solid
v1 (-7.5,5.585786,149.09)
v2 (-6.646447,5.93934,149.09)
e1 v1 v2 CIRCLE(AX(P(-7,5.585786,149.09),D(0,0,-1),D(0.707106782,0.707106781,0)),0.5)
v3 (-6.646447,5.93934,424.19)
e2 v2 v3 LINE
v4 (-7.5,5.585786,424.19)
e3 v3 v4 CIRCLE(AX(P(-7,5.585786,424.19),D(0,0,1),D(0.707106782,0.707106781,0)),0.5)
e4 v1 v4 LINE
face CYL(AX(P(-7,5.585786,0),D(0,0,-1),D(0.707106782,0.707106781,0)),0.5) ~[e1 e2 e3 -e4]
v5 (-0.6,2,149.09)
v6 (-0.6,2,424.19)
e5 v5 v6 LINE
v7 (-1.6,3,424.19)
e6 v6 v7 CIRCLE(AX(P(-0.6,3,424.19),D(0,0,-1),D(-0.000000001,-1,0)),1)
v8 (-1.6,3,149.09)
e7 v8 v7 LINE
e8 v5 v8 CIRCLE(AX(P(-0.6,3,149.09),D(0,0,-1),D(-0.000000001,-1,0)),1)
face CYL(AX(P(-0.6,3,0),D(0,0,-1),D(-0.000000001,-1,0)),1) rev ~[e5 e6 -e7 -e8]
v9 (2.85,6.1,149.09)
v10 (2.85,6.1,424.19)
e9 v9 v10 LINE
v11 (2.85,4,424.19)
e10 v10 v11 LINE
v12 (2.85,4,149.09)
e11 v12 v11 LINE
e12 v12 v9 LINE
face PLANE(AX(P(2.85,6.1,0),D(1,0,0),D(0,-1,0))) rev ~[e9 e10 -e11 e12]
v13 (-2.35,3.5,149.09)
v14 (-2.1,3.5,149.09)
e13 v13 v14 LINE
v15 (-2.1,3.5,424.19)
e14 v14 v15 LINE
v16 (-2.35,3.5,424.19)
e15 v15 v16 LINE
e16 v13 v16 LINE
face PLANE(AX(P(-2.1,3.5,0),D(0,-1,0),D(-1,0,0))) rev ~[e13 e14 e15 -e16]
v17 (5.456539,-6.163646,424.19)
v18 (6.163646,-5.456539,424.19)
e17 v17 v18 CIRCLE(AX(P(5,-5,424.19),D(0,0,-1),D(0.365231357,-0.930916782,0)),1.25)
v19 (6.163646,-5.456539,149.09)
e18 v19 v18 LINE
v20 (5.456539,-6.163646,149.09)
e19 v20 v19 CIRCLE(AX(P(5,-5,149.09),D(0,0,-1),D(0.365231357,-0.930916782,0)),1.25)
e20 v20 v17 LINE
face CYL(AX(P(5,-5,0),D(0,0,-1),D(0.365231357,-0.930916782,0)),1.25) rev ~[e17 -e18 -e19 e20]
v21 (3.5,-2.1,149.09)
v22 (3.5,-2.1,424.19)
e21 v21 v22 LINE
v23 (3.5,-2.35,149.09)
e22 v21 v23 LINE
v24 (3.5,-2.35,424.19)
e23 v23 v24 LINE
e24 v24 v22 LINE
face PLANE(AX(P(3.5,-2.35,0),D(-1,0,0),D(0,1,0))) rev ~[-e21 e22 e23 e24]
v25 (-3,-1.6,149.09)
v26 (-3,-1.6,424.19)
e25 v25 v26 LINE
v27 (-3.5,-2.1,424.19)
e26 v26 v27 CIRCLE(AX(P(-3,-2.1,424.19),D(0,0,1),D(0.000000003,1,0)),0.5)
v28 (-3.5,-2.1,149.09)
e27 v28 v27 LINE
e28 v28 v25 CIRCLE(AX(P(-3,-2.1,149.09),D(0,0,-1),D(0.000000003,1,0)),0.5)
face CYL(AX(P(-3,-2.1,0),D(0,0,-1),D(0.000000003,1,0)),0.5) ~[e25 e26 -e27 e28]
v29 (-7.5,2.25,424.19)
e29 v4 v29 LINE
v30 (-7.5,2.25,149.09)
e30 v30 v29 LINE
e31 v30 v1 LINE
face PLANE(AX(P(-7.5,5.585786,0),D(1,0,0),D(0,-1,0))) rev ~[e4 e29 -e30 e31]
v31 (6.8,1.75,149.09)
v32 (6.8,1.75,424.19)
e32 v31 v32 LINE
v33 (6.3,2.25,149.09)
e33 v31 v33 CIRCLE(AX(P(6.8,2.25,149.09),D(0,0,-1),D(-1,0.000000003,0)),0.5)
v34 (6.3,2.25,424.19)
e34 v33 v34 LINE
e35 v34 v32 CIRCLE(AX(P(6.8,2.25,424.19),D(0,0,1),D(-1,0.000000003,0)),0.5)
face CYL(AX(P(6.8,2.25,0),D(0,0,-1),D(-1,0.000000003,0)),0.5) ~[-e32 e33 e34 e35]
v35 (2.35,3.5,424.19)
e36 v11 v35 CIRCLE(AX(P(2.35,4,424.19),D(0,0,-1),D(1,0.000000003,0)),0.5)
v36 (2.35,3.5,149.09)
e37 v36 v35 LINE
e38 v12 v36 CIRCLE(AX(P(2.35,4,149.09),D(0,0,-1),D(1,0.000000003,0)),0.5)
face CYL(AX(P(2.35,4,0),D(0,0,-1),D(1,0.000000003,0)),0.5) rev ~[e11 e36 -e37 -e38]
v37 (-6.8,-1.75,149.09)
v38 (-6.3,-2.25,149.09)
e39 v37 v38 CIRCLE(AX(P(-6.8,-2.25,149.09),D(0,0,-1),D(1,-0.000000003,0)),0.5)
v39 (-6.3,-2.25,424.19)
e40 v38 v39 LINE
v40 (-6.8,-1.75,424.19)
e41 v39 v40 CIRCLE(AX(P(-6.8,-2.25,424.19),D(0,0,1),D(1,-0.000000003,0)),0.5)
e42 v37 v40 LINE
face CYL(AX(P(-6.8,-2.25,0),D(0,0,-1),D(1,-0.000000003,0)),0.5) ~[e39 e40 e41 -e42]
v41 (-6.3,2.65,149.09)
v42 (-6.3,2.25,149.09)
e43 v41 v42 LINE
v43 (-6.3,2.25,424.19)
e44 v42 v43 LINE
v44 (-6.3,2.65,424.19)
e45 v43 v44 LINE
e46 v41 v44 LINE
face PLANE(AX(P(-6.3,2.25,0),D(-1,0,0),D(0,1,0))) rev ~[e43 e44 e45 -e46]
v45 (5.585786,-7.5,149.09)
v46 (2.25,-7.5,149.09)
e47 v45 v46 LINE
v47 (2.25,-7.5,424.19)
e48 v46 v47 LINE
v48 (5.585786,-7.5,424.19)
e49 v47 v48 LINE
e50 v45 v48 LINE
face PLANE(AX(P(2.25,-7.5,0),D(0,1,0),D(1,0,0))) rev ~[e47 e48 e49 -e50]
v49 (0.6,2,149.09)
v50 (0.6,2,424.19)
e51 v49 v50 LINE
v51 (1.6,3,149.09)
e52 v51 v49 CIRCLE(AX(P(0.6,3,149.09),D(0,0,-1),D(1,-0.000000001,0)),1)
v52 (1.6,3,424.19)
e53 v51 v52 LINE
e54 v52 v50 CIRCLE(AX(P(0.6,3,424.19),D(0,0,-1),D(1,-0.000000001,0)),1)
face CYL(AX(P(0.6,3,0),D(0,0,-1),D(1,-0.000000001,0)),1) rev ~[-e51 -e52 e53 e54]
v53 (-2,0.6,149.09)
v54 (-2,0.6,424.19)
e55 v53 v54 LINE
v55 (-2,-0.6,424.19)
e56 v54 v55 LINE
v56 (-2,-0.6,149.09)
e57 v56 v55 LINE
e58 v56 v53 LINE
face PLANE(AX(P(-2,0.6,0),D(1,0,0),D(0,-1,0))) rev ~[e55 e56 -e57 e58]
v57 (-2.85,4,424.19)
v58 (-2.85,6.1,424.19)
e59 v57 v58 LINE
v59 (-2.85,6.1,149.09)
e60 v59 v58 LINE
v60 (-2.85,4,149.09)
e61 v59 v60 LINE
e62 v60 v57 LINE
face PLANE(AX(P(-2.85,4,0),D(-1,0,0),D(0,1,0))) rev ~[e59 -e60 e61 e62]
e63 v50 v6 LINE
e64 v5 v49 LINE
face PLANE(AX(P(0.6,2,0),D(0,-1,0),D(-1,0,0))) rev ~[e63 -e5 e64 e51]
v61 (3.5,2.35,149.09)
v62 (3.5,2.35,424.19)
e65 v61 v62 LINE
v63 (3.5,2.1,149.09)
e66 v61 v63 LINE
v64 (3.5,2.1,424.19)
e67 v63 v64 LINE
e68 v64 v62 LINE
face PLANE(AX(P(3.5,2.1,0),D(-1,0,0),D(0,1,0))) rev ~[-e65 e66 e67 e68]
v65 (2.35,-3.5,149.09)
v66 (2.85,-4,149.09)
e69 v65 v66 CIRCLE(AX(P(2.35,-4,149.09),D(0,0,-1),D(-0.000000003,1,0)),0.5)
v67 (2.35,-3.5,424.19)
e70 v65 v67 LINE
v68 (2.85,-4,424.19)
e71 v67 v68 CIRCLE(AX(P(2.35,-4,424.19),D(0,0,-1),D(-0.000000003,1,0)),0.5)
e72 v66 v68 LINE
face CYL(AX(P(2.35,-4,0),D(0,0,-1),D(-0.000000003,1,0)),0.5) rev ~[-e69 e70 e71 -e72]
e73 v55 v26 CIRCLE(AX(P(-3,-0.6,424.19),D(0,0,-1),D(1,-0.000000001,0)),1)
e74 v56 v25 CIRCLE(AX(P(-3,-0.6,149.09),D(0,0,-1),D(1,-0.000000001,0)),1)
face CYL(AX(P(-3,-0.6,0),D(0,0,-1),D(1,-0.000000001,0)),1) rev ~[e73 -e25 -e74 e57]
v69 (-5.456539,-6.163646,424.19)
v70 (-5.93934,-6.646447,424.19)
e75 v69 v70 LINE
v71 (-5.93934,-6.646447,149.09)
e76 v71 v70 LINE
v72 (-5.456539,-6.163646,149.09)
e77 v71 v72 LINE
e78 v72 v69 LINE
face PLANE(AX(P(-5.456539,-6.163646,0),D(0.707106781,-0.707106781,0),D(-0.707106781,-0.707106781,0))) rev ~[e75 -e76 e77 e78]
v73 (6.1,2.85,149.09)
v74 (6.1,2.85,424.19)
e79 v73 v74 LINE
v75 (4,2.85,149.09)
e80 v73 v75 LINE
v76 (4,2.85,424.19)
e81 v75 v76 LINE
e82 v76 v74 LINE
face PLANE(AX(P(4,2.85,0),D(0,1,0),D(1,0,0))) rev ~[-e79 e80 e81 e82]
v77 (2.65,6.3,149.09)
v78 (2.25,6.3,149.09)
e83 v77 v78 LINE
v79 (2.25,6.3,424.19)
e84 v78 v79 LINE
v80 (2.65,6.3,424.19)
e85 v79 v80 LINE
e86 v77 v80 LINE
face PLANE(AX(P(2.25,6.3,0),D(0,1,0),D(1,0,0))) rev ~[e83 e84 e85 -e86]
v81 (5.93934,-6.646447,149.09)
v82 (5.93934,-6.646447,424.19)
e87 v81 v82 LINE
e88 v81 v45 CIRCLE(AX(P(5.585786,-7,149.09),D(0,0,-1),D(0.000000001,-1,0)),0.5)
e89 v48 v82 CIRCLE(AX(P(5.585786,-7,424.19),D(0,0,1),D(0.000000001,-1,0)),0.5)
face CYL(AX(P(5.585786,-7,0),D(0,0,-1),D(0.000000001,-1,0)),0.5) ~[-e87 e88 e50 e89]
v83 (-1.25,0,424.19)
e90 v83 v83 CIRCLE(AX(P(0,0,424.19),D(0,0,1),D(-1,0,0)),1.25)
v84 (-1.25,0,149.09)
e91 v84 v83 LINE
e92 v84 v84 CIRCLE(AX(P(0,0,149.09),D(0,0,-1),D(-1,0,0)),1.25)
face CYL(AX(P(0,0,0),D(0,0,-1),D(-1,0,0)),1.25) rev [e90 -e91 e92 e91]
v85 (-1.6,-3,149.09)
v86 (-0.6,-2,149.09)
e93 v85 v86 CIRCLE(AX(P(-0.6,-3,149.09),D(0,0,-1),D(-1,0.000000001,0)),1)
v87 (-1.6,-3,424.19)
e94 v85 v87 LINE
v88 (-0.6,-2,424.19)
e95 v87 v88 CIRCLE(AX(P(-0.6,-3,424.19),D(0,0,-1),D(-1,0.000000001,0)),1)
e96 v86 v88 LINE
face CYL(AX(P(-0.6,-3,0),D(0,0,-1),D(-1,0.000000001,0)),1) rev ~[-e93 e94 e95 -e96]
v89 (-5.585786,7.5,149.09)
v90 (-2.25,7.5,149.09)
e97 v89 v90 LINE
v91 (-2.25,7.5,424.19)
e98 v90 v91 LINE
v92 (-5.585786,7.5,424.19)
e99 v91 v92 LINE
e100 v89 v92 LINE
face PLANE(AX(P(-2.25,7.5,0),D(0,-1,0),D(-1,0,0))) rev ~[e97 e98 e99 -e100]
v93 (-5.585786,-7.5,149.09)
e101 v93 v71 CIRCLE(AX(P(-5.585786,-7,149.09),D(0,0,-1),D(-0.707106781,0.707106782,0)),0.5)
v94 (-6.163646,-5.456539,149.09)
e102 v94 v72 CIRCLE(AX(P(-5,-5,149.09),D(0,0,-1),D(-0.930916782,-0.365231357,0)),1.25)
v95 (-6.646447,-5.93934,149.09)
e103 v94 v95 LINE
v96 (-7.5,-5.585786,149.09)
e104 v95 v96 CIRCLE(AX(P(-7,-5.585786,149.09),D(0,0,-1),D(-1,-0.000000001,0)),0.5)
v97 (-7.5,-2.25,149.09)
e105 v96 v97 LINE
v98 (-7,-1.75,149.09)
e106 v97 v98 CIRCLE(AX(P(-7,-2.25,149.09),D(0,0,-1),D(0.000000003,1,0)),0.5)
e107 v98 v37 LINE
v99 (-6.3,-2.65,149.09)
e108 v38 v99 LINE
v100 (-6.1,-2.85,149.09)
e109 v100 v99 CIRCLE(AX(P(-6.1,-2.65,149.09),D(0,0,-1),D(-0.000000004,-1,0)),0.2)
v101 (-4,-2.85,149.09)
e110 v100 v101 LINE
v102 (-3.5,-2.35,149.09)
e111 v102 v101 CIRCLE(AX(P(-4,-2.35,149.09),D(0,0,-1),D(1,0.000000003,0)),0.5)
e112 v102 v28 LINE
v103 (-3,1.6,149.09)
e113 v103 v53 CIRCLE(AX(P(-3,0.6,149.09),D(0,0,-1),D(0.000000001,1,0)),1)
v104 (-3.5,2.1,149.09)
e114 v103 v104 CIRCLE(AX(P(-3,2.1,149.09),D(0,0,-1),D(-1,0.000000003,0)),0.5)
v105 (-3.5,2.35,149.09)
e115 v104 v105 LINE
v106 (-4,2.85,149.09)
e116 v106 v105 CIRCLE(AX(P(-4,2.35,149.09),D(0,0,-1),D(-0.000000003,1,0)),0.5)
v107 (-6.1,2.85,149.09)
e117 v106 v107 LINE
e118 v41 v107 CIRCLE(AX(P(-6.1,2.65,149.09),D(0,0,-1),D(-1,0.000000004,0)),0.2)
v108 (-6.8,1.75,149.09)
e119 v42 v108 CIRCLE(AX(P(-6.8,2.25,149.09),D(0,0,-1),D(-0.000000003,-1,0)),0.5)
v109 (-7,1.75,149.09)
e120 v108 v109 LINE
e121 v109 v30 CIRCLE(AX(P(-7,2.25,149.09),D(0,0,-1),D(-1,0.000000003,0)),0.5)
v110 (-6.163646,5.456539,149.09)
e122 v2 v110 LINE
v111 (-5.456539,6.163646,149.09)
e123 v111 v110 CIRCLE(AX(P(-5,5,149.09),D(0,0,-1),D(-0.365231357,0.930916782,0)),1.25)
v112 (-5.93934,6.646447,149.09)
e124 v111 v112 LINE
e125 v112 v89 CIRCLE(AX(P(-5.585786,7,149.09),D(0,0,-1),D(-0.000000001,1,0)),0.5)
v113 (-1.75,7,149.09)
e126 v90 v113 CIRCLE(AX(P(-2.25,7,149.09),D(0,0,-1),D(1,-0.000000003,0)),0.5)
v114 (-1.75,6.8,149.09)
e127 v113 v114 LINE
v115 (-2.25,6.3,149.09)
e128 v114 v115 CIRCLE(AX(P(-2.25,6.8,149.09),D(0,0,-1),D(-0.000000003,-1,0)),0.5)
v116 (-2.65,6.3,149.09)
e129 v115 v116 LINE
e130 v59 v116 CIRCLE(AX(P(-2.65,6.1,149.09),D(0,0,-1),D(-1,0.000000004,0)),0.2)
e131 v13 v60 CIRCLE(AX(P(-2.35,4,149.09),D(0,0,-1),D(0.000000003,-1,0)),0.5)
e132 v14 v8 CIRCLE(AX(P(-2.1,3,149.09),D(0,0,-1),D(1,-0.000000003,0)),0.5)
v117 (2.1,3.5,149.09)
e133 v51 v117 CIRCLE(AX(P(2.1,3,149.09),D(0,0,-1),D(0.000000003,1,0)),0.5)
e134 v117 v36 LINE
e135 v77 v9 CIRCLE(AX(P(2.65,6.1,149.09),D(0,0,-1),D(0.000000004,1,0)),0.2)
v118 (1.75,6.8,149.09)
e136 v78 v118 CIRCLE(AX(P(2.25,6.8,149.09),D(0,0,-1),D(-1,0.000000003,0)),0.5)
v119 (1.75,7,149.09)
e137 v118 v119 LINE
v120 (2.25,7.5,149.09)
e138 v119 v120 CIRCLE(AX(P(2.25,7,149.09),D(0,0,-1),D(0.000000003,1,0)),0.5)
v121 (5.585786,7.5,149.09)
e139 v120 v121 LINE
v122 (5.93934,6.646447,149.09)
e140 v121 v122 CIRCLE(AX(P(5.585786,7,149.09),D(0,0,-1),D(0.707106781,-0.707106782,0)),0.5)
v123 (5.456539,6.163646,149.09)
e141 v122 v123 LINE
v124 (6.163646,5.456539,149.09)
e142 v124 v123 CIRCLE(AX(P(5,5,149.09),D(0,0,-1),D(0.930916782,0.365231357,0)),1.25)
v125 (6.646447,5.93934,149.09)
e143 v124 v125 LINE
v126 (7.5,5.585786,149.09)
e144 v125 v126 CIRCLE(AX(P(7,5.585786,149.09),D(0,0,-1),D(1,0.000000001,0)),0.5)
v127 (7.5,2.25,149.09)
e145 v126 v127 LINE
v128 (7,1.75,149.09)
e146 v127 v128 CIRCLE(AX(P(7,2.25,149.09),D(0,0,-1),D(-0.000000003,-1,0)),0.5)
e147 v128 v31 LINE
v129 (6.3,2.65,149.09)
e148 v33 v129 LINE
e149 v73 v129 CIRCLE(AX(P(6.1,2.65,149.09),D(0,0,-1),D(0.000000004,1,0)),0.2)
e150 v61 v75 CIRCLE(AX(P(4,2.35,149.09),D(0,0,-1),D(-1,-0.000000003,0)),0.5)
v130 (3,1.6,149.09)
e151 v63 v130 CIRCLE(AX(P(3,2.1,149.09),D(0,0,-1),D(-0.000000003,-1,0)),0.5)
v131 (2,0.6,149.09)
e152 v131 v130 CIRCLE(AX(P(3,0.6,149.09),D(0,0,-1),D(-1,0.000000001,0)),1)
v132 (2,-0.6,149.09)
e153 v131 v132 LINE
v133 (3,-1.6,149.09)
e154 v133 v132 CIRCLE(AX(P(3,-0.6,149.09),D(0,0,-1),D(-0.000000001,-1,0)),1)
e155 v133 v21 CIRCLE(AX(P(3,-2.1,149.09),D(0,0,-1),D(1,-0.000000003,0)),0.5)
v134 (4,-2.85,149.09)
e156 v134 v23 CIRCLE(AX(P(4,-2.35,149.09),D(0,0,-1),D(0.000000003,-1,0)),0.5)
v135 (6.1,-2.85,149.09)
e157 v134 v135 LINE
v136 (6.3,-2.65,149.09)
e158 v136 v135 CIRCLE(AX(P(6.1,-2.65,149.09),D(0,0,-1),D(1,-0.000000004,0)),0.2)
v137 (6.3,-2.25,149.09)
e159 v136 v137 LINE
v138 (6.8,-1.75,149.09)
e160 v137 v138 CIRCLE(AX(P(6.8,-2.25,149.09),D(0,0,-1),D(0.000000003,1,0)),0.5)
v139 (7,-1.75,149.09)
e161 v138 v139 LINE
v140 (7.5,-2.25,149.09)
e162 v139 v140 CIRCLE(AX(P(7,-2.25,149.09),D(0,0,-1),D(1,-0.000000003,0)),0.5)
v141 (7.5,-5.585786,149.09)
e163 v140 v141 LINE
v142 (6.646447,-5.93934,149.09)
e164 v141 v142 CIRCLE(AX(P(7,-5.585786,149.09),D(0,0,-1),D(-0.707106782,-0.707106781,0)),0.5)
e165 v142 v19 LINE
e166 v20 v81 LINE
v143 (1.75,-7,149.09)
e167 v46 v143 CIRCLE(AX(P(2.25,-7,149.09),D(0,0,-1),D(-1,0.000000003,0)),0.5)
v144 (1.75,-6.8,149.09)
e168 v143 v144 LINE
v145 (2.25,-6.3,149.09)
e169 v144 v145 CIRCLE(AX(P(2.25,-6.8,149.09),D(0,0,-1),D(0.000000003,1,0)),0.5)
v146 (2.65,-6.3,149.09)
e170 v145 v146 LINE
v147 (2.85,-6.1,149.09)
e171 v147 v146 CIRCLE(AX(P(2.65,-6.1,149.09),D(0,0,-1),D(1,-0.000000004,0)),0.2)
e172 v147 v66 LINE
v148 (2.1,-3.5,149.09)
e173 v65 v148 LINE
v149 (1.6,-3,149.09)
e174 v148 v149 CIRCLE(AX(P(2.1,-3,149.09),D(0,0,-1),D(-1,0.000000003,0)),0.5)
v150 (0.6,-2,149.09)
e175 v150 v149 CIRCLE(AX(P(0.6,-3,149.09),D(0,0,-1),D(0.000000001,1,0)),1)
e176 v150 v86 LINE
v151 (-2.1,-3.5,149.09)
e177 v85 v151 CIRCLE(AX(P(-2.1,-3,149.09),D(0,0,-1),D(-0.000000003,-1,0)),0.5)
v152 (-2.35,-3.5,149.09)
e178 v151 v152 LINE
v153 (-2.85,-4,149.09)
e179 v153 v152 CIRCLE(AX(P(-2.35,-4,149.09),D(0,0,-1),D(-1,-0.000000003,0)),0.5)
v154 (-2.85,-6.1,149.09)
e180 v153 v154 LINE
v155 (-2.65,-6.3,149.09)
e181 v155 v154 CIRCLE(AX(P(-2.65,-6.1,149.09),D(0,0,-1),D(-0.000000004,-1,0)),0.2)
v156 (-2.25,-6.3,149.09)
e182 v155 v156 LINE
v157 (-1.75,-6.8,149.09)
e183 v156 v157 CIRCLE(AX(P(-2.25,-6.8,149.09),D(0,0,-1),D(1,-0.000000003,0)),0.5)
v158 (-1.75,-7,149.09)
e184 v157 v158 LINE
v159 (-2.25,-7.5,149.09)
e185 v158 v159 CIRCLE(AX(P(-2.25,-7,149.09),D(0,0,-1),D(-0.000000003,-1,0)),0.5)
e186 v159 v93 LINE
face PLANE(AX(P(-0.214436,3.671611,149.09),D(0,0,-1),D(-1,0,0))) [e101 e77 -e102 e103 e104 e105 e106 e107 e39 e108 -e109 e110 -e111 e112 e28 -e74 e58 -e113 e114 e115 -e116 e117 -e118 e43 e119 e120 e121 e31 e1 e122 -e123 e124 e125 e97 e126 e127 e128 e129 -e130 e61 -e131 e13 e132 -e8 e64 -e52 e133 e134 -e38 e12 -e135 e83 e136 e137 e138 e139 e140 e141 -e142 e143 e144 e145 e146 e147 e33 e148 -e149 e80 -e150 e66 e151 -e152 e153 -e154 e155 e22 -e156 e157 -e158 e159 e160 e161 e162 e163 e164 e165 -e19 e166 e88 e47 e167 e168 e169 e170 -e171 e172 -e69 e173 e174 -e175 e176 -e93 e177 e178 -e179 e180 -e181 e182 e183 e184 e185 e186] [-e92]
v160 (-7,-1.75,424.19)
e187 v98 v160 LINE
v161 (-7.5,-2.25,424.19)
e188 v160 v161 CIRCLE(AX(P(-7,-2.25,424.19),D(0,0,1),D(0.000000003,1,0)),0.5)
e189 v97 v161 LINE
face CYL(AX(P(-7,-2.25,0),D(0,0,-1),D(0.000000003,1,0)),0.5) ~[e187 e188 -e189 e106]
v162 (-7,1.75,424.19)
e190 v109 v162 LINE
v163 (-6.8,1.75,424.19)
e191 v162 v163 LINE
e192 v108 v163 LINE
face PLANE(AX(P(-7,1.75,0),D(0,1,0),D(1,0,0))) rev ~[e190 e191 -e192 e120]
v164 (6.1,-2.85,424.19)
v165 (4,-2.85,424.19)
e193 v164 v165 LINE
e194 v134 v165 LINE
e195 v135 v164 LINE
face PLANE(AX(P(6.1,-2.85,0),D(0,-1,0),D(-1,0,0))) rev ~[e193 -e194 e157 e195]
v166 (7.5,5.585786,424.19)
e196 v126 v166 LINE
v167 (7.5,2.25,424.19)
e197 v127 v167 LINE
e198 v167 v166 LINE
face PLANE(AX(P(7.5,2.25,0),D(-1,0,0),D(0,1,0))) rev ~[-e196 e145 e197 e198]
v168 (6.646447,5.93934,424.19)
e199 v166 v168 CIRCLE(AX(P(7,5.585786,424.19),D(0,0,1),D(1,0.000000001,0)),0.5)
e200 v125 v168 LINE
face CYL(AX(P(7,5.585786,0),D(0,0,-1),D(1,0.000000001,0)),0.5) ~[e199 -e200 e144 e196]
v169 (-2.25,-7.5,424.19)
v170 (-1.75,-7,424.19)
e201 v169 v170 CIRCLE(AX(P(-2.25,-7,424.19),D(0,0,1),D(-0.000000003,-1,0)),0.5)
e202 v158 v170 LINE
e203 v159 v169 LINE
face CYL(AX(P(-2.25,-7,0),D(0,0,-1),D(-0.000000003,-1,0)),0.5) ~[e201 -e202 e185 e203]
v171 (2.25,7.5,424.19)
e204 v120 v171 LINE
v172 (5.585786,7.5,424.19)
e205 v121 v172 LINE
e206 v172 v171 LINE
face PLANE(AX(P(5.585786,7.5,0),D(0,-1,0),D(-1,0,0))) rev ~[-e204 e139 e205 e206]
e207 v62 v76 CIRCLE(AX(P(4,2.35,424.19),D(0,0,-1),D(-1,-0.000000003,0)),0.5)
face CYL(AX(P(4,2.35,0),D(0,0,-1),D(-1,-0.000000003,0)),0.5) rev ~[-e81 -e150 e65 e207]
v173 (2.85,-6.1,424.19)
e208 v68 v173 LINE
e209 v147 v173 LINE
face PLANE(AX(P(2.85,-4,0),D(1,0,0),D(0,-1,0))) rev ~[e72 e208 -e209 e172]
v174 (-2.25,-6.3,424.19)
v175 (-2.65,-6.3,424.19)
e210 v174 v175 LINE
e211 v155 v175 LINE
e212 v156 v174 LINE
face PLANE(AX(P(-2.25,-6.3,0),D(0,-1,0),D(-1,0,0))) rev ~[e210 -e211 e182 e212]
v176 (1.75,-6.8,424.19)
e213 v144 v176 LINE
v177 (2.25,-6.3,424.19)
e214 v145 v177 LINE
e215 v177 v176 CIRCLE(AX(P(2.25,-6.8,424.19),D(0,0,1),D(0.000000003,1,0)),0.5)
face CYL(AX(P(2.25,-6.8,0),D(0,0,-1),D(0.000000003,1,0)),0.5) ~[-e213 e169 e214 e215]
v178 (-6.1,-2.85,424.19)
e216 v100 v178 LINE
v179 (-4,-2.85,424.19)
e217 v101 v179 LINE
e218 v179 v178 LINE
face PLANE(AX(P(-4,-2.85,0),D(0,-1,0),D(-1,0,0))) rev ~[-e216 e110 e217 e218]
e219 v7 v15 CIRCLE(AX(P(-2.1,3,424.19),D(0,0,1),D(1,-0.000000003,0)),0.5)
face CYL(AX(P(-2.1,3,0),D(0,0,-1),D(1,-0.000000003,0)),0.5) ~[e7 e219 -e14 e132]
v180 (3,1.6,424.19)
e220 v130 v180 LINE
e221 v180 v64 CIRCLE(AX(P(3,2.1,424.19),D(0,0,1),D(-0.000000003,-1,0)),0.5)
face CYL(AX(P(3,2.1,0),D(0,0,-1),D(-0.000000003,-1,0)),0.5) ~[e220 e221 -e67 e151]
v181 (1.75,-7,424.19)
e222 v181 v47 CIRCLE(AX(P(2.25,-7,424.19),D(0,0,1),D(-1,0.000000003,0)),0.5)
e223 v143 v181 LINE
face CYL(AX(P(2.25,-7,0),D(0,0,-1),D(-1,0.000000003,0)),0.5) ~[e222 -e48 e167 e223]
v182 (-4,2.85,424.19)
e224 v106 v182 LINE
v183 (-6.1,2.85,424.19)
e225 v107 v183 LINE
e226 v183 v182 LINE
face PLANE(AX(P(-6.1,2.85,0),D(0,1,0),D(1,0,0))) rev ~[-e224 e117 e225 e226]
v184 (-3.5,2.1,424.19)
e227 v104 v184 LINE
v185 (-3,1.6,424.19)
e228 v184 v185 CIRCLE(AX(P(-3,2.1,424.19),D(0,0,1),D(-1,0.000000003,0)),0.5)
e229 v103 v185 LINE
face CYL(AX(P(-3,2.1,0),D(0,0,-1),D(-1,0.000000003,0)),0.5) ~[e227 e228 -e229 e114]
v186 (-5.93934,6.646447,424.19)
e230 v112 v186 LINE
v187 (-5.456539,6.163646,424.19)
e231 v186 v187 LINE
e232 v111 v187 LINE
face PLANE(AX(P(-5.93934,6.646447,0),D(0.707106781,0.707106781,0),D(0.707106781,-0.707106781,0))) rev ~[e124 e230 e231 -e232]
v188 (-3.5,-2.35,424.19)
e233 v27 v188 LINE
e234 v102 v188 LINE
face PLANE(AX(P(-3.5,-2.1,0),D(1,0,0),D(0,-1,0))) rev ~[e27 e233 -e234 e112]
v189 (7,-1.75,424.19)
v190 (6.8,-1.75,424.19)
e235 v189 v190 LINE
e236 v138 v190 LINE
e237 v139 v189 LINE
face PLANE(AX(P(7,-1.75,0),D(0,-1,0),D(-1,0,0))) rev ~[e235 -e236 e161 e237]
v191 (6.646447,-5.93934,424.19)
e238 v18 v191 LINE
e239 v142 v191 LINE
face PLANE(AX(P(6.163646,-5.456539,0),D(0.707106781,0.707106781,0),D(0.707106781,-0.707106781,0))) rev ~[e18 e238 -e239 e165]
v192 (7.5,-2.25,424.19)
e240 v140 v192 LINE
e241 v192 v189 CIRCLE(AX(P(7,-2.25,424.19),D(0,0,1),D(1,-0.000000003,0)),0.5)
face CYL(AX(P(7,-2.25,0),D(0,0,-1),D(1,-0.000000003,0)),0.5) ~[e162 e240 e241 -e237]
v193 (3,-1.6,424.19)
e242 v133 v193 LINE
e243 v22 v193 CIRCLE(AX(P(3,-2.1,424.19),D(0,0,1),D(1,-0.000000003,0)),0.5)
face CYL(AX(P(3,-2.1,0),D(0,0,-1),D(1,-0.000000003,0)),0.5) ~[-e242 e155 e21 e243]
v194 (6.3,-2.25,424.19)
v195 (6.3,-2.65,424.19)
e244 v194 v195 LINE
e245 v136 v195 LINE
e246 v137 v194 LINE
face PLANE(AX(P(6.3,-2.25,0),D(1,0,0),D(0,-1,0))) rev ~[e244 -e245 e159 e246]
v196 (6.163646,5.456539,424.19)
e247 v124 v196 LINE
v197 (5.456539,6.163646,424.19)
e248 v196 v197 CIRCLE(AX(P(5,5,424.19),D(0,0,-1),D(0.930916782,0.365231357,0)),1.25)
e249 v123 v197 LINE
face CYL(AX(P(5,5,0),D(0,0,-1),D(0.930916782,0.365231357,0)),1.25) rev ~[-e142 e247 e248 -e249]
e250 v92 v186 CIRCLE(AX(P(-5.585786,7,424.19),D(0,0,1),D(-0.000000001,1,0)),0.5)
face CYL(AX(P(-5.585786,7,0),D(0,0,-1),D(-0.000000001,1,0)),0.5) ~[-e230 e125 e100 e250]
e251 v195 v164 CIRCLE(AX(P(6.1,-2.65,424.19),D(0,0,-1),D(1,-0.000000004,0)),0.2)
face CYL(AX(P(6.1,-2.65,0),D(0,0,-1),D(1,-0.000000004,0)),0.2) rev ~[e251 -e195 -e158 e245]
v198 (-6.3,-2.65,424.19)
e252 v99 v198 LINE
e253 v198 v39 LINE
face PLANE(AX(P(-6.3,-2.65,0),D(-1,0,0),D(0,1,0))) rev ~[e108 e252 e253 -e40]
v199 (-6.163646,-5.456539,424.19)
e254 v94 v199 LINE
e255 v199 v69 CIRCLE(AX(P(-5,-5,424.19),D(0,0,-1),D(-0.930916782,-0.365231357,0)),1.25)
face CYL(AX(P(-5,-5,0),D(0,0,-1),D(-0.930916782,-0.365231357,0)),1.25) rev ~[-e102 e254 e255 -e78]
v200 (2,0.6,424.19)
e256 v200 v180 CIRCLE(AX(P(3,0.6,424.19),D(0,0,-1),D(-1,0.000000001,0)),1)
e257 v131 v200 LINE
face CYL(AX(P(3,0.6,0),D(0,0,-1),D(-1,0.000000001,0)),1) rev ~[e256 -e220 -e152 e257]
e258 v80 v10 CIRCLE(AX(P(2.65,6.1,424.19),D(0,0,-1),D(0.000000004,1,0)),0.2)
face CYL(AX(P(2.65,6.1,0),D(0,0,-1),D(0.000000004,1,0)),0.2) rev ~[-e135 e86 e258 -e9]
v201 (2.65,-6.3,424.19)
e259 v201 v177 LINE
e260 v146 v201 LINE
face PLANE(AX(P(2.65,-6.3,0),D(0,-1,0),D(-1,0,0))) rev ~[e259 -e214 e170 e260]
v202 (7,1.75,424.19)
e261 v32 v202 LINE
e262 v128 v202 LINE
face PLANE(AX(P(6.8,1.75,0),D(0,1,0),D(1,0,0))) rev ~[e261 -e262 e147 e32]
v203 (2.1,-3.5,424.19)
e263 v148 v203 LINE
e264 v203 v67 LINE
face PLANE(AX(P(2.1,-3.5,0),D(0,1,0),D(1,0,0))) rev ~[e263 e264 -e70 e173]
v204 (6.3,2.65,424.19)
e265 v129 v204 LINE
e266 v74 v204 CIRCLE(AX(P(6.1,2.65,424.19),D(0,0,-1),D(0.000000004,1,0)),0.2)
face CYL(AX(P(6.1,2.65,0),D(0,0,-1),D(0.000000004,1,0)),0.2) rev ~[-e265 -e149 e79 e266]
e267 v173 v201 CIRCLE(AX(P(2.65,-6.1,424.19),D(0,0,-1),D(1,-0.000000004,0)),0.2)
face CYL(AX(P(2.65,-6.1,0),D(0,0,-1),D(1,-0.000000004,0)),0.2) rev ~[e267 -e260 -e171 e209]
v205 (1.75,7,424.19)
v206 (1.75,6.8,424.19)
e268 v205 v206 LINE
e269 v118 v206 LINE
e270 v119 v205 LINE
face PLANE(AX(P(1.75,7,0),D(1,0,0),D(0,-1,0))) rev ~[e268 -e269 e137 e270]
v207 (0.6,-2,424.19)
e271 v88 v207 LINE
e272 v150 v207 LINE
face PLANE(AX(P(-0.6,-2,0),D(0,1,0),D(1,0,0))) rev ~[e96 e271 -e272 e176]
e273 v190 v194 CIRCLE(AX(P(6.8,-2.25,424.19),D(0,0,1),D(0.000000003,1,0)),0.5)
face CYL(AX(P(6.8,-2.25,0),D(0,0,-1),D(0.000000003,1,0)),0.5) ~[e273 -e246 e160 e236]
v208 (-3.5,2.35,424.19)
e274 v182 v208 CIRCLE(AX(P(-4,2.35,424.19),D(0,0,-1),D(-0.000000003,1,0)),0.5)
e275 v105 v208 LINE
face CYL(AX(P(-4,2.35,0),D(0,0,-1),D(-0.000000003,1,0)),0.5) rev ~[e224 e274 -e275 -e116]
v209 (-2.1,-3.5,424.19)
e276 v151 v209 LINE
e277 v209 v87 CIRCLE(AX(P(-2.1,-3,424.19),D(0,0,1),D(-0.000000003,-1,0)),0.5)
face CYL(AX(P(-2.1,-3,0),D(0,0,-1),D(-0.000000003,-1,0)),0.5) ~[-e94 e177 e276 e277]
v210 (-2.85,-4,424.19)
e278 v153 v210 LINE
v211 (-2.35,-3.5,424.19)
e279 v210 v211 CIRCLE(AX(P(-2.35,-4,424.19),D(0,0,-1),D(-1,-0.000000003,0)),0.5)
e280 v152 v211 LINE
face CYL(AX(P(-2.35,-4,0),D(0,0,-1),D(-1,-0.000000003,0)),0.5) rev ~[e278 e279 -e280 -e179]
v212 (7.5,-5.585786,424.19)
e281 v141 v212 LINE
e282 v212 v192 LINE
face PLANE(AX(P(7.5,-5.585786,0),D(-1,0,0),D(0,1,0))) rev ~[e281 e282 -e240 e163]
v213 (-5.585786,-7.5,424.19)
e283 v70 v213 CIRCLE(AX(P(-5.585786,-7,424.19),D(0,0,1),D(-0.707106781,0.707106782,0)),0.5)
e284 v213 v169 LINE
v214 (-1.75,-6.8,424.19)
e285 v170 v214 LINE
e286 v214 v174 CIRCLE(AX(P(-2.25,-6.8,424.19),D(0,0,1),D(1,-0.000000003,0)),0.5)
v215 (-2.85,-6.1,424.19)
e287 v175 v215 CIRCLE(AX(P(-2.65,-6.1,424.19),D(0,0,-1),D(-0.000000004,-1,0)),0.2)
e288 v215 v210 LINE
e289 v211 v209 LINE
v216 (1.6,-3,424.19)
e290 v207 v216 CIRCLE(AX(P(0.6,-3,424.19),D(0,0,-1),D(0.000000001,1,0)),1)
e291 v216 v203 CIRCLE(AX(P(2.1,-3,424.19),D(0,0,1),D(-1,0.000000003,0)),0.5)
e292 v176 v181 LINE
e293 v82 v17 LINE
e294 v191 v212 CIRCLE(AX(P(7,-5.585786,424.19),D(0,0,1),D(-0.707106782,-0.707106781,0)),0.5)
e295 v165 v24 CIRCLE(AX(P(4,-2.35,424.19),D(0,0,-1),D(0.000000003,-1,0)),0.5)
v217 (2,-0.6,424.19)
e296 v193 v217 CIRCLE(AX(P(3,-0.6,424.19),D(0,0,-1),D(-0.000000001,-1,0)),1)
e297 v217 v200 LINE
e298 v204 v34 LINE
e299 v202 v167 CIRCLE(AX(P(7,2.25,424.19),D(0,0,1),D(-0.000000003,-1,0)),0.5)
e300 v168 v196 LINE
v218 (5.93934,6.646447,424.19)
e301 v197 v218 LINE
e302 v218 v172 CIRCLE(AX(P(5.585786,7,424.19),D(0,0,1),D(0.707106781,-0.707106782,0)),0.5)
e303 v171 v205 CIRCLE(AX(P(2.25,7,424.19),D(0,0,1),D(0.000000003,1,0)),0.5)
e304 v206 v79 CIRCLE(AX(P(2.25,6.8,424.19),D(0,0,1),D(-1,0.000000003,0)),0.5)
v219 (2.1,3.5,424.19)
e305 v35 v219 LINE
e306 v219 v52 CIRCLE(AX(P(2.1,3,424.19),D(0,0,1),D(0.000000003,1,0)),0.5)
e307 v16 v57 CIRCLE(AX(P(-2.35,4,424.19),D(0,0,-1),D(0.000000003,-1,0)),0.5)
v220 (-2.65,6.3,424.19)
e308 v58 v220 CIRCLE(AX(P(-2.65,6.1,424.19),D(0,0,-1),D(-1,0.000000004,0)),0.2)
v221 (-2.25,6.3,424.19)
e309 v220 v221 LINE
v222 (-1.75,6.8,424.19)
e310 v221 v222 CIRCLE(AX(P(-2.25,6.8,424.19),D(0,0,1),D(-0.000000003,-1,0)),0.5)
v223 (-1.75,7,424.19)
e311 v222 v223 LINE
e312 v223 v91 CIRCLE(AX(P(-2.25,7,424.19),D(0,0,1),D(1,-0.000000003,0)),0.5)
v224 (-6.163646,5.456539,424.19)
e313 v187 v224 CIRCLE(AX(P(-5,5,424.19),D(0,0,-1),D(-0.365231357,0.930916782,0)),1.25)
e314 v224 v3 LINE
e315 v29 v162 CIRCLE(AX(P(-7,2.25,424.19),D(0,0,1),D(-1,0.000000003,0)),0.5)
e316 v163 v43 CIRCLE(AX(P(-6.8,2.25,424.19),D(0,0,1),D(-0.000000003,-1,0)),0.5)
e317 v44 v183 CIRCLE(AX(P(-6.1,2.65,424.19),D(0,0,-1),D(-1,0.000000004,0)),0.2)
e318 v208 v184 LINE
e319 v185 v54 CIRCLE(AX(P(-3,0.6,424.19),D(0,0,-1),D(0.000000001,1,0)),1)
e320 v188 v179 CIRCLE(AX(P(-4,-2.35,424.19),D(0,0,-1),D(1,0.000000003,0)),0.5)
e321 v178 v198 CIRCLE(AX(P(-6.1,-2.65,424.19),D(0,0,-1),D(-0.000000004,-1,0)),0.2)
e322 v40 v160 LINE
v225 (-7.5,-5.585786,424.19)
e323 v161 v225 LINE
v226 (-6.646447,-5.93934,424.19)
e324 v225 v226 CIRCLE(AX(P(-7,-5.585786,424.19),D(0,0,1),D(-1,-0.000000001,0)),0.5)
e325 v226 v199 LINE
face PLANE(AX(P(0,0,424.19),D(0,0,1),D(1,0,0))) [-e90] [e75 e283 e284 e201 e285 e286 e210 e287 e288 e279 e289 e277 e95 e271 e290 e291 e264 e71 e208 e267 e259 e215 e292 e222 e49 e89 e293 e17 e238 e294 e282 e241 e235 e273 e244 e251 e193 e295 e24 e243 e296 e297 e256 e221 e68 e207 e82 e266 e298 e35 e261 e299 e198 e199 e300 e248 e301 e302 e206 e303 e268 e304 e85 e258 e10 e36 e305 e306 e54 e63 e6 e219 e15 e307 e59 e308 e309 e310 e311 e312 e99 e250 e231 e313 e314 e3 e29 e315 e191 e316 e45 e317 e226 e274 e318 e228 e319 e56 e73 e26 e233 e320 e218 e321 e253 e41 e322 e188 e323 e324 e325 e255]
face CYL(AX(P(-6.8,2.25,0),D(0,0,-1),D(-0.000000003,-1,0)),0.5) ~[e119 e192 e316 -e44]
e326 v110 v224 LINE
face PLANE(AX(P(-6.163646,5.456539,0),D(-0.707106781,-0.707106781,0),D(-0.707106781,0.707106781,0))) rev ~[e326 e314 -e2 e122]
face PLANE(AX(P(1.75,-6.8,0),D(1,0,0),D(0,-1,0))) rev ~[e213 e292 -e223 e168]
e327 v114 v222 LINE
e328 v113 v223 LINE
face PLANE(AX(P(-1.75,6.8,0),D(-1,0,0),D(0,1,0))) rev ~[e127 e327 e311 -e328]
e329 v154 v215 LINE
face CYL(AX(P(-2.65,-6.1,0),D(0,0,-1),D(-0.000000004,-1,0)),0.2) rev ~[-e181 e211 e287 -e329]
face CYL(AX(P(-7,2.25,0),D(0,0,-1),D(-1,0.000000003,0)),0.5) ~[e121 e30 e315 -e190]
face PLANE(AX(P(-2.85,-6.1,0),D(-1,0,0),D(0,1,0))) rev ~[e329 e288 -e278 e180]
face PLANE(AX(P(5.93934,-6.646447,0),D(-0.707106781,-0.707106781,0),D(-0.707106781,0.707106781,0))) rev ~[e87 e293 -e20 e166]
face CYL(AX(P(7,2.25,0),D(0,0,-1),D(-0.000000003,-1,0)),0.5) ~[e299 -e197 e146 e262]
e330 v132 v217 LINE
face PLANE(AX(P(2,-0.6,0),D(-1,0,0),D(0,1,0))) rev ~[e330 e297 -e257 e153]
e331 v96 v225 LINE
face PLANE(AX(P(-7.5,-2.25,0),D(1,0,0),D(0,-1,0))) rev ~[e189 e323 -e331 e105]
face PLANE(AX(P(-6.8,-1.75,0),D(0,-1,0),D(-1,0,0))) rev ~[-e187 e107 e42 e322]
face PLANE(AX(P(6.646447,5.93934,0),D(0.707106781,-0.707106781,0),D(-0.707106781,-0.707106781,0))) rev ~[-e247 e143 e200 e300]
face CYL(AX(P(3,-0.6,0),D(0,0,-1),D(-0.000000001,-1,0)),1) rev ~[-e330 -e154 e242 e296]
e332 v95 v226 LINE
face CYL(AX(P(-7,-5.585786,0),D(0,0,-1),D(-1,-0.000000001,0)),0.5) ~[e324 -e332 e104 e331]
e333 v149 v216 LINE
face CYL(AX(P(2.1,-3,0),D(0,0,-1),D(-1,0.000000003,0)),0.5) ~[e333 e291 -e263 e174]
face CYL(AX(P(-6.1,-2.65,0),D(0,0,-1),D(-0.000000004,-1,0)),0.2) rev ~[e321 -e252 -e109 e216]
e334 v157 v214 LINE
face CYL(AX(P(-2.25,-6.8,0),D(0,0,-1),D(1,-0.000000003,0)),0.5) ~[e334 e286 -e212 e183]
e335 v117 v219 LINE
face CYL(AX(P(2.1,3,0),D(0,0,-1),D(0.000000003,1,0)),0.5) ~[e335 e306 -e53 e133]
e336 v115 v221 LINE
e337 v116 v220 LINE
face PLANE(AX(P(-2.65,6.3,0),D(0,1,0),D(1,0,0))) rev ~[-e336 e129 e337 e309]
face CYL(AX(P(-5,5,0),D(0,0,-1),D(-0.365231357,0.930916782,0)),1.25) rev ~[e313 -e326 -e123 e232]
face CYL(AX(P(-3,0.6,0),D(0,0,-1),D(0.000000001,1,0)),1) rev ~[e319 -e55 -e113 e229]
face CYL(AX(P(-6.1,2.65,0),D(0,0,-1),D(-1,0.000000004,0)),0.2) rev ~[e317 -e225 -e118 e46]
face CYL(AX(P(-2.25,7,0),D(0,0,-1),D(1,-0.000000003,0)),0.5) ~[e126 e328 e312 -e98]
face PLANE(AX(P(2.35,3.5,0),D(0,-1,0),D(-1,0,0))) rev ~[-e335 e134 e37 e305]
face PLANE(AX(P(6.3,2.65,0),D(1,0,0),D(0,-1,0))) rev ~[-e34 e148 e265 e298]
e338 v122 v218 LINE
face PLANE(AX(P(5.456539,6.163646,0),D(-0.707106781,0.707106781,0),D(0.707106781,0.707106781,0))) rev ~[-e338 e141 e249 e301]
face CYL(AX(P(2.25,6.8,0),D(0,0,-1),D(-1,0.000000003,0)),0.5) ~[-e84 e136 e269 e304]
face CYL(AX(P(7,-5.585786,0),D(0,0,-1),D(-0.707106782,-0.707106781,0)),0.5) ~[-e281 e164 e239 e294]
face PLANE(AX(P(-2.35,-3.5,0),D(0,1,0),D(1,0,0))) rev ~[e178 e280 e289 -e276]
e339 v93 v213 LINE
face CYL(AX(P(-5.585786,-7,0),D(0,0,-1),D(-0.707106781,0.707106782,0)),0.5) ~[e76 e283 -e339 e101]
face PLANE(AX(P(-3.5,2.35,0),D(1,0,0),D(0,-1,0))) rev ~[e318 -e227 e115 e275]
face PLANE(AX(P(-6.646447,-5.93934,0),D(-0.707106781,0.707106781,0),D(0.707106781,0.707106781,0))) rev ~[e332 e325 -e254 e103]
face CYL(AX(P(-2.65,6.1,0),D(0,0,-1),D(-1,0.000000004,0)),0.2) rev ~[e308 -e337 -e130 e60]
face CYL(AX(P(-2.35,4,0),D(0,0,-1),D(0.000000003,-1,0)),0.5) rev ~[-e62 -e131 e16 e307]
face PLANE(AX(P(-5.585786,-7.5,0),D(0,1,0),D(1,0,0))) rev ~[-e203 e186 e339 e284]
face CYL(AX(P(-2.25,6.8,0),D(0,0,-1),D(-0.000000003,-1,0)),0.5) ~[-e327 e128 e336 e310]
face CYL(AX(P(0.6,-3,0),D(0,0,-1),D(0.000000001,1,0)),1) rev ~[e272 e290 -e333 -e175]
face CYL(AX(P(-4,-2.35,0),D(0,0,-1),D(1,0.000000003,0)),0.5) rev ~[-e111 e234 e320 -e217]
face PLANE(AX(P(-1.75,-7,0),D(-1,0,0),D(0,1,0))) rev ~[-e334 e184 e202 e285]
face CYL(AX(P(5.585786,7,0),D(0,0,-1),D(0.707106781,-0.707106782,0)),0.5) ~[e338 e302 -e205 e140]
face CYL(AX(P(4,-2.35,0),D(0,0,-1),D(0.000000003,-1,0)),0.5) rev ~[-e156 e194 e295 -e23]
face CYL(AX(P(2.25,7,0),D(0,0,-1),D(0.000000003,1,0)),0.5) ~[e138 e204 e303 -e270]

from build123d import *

# Parameters (mm, degrees)
SKETCH1_R           = 1.25
BOSS_EXTRUDE1_DEPTH = 424.19
SKETCH2_W           = 19.128008286
SKETCH2_H           = 35.887875157
CUT_EXTRUDE1_DEPTH  = 147.32
SKETCH3_W           = 55.04352993
SKETCH3_H           = 66.308311026
CUT_EXTRUDE2_DEPTH  = 1.77


with BuildPart() as part:
    # Sketch1 → Boss-Extrude1 (new body)
    with BuildSketch(Plane.XY):
        with BuildLine():
            Line((6.646446609, 5.939339828), (6.163645978, 5.456539197))
            ThreePointArc((6.163645978, 5.456539197), (4.116116524, 4.116116524), (5.456539197, 6.163645978))
            Line((5.456539197, 6.163645978), (5.939339828, 6.646446609))
            ThreePointArc((5.939339828, 6.646446609), (6.047726204, 7.191341716), (5.585786438, 7.5))
            Line((5.585786438, 7.5), (2.25, 7.5))
            ThreePointArc((2.25, 7.5), (1.896446609, 7.353553391), (1.75, 7))
            Line((1.75, 7), (1.75, 6.8))
            ThreePointArc((1.75, 6.8), (1.896446609, 6.446446609), (2.25, 6.3))
            Line((2.25, 6.3), (2.65, 6.3))
            ThreePointArc((2.65, 6.3), (2.791421356, 6.241421356), (2.85, 6.1))
            Line((2.85, 6.1), (2.85, 4))
            ThreePointArc((2.85, 4), (2.703553391, 3.646446609), (2.35, 3.5))
            Line((2.35, 3.5), (2.1, 3.5))
            ThreePointArc((2.1, 3.5), (1.746446609, 3.353553391), (1.6, 3))
            ThreePointArc((1.6, 3), (1.307106781, 2.292893219), (0.6, 2))
            Line((0.6, 2), (-0.6, 2))
            ThreePointArc((-0.6, 2), (-1.307106781, 2.292893219), (-1.6, 3))
            ThreePointArc((-1.6, 3), (-1.746446609, 3.353553391), (-2.1, 3.5))
            Line((-2.1, 3.5), (-2.35, 3.5))
            ThreePointArc((-2.35, 3.5), (-2.703553391, 3.646446609), (-2.85, 4))
            Line((-2.85, 4), (-2.85, 6.1))
            ThreePointArc((-2.85, 6.1), (-2.791421356, 6.241421356), (-2.65, 6.3))
            Line((-2.65, 6.3), (-2.25, 6.3))
            ThreePointArc((-2.25, 6.3), (-1.896446609, 6.446446609), (-1.75, 6.8))
            Line((-1.75, 6.8), (-1.75, 7))
            ThreePointArc((-1.75, 7), (-1.896446609, 7.353553391), (-2.25, 7.5))
            Line((-2.25, 7.5), (-5.585786438, 7.5))
            ThreePointArc((-5.585786438, 7.5), (-6.047726204, 7.191341716), (-5.939339828, 6.646446609))
            Line((-5.939339828, 6.646446609), (-5.456539197, 6.163645978))
            ThreePointArc((-5.456539197, 6.163645978), (-4.116116524, 4.116116524), (-6.163645978, 5.456539197))
            Line((-6.163645978, 5.456539197), (-6.646446609, 5.939339828))
            ThreePointArc((-6.646446609, 5.939339828), (-7.191341716, 6.047726204), (-7.5, 5.585786438))
            Line((-7.5, 5.585786438), (-7.5, 2.25))
            ThreePointArc((-7.5, 2.25), (-7.353553391, 1.896446609), (-7, 1.75))
            Line((-7, 1.75), (-6.8, 1.75))
            ThreePointArc((-6.8, 1.75), (-6.446446609, 1.896446609), (-6.3, 2.25))
            Line((-6.3, 2.25), (-6.3, 2.65))
            ThreePointArc((-6.3, 2.65), (-6.241421356, 2.791421356), (-6.1, 2.85))
            Line((-6.1, 2.85), (-4, 2.85))
            ThreePointArc((-4, 2.85), (-3.646446609, 2.703553391), (-3.5, 2.35))
            Line((-3.5, 2.35), (-3.5, 2.1))
            ThreePointArc((-3.5, 2.1), (-3.353553391, 1.746446609), (-3, 1.6))
            ThreePointArc((-3, 1.6), (-2.292893219, 1.307106781), (-2, 0.6))
            Line((-2, 0.6), (-2, -0.6))
            ThreePointArc((-2, -0.6), (-2.292893219, -1.307106781), (-3, -1.6))
            ThreePointArc((-3, -1.6), (-3.353553391, -1.746446609), (-3.5, -2.1))
            Line((-3.5, -2.1), (-3.5, -2.35))
            ThreePointArc((-3.5, -2.35), (-3.646446609, -2.703553391), (-4, -2.85))
            Line((-4, -2.85), (-6.1, -2.85))
            ThreePointArc((-6.1, -2.85), (-6.241421356, -2.791421356), (-6.3, -2.65))
            Line((-6.3, -2.65), (-6.3, -2.25))
            ThreePointArc((-6.3, -2.25), (-6.446446609, -1.896446609), (-6.8, -1.75))
            Line((-6.8, -1.75), (-7, -1.75))
            ThreePointArc((-7, -1.75), (-7.353553391, -1.896446609), (-7.5, -2.25))
            Line((-7.5, -2.25), (-7.5, -5.585786438))
            ThreePointArc((-7.5, -5.585786438), (-7.191341716, -6.047726204), (-6.646446609, -5.939339828))
            Line((-6.646446609, -5.939339828), (-6.163645978, -5.456539197))
            ThreePointArc((-6.163645978, -5.456539197), (-4.116116524, -4.116116524), (-5.456539197, -6.163645978))
            Line((-5.456539197, -6.163645978), (-5.939339828, -6.646446609))
            ThreePointArc((-5.939339828, -6.646446609), (-6.047726204, -7.191341716), (-5.585786438, -7.5))
            Line((-5.585786438, -7.5), (-2.25, -7.5))
            ThreePointArc((-2.25, -7.5), (-1.896446609, -7.353553391), (-1.75, -7))
            Line((-1.75, -7), (-1.75, -6.8))
            ThreePointArc((-1.75, -6.8), (-1.896446609, -6.446446609), (-2.25, -6.3))
            Line((-2.25, -6.3), (-2.65, -6.3))
            ThreePointArc((-2.65, -6.3), (-2.791421356, -6.241421356), (-2.85, -6.1))
            Line((-2.85, -6.1), (-2.85, -4))
            ThreePointArc((-2.85, -4), (-2.703553391, -3.646446609), (-2.35, -3.5))
            Line((-2.35, -3.5), (-2.1, -3.5))
            ThreePointArc((-2.1, -3.5), (-1.746446609, -3.353553391), (-1.6, -3))
            ThreePointArc((-1.6, -3), (-1.307106781, -2.292893219), (-0.6, -2))
            Line((-0.6, -2), (0.6, -2))
            ThreePointArc((0.6, -2), (1.307106781, -2.292893219), (1.6, -3))
            ThreePointArc((1.6, -3), (1.746446609, -3.353553391), (2.1, -3.5))
            Line((2.1, -3.5), (2.35, -3.5))
            ThreePointArc((2.35, -3.5), (2.703553391, -3.646446609), (2.85, -4))
            Line((2.85, -4), (2.85, -6.1))
            ThreePointArc((2.85, -6.1), (2.791421356, -6.241421356), (2.65, -6.3))
            Line((2.65, -6.3), (2.25, -6.3))
            ThreePointArc((2.25, -6.3), (1.896446609, -6.446446609), (1.75, -6.8))
            Line((1.75, -6.8), (1.75, -7))
            ThreePointArc((1.75, -7), (1.896446609, -7.353553391), (2.25, -7.5))
            Line((2.25, -7.5), (5.585786438, -7.5))
            ThreePointArc((5.585786438, -7.5), (6.047726204, -7.191341716), (5.939339828, -6.646446609))
            Line((5.939339828, -6.646446609), (5.456539197, -6.163645978))
            ThreePointArc((5.456539197, -6.163645978), (4.116116524, -4.116116524), (6.163645978, -5.456539197))
            Line((6.163645978, -5.456539197), (6.646446609, -5.939339828))
            ThreePointArc((6.646446609, -5.939339828), (7.191341716, -6.047726204), (7.5, -5.585786438))
            Line((7.5, -5.585786438), (7.5, -2.25))
            ThreePointArc((7.5, -2.25), (7.353553391, -1.896446609), (7, -1.75))
            Line((7, -1.75), (6.8, -1.75))
            ThreePointArc((6.8, -1.75), (6.446446609, -1.896446609), (6.3, -2.25))
            Line((6.3, -2.25), (6.3, -2.65))
            ThreePointArc((6.3, -2.65), (6.241421356, -2.791421356), (6.1, -2.85))
            Line((6.1, -2.85), (4, -2.85))
            ThreePointArc((4, -2.85), (3.646446609, -2.703553391), (3.5, -2.35))
            Line((3.5, -2.35), (3.5, -2.1))
            ThreePointArc((3.5, -2.1), (3.353553391, -1.746446609), (3, -1.6))
            ThreePointArc((3, -1.6), (2.292893219, -1.307106781), (2, -0.6))
            Line((2, -0.6), (2, 0.6))
            ThreePointArc((2, 0.6), (2.292893219, 1.307106781), (3, 1.6))
            ThreePointArc((3, 1.6), (3.353553391, 1.746446609), (3.5, 2.1))
            Line((3.5, 2.1), (3.5, 2.35))
            ThreePointArc((3.5, 2.35), (3.646446609, 2.703553391), (4, 2.85))
            Line((4, 2.85), (6.1, 2.85))
            ThreePointArc((6.1, 2.85), (6.241421356, 2.791421356), (6.3, 2.65))
            Line((6.3, 2.65), (6.3, 2.25))
            ThreePointArc((6.3, 2.25), (6.446446609, 1.896446609), (6.8, 1.75))
            Line((6.8, 1.75), (7, 1.75))
            ThreePointArc((7, 1.75), (7.353553391, 1.896446609), (7.5, 2.25))
            Line((7.5, 2.25), (7.5, 5.585786438))
            ThreePointArc((7.5, 5.585786438), (7.191341716, 6.047726204), (6.646446609, 5.939339828))
        make_face()
        with Locations(Location((0, 0, 0), (0, 0, 180))):
            Circle(SKETCH1_R, mode=Mode.SUBTRACT)
    extrude(amount=BOSS_EXTRUDE1_DEPTH)

    # Sketch2 → Cut-Extrude1 (cut)
    with BuildSketch(Plane(origin=(0, 0, 0), x_dir=(-1, 0, 0), z_dir=(0, 0, -1))):
        with Locations((-1.40638356, 2.865806024)):
            Rectangle(SKETCH2_W, SKETCH2_H)
    extrude(amount=-CUT_EXTRUDE1_DEPTH, mode=Mode.SUBTRACT)

    # Sketch3 → Cut-Extrude2 (cut)
    with BuildSketch(Plane(origin=(0, 0, 147.32), x_dir=(-1, 0, 0), z_dir=(0, 0, -1))):
        with Locations((0.214436434, 3.671610739)):
            Rectangle(SKETCH3_W, SKETCH3_H)
    extrude(amount=-CUT_EXTRUDE2_DEPTH, mode=Mode.SUBTRACT)


solid = part.part
